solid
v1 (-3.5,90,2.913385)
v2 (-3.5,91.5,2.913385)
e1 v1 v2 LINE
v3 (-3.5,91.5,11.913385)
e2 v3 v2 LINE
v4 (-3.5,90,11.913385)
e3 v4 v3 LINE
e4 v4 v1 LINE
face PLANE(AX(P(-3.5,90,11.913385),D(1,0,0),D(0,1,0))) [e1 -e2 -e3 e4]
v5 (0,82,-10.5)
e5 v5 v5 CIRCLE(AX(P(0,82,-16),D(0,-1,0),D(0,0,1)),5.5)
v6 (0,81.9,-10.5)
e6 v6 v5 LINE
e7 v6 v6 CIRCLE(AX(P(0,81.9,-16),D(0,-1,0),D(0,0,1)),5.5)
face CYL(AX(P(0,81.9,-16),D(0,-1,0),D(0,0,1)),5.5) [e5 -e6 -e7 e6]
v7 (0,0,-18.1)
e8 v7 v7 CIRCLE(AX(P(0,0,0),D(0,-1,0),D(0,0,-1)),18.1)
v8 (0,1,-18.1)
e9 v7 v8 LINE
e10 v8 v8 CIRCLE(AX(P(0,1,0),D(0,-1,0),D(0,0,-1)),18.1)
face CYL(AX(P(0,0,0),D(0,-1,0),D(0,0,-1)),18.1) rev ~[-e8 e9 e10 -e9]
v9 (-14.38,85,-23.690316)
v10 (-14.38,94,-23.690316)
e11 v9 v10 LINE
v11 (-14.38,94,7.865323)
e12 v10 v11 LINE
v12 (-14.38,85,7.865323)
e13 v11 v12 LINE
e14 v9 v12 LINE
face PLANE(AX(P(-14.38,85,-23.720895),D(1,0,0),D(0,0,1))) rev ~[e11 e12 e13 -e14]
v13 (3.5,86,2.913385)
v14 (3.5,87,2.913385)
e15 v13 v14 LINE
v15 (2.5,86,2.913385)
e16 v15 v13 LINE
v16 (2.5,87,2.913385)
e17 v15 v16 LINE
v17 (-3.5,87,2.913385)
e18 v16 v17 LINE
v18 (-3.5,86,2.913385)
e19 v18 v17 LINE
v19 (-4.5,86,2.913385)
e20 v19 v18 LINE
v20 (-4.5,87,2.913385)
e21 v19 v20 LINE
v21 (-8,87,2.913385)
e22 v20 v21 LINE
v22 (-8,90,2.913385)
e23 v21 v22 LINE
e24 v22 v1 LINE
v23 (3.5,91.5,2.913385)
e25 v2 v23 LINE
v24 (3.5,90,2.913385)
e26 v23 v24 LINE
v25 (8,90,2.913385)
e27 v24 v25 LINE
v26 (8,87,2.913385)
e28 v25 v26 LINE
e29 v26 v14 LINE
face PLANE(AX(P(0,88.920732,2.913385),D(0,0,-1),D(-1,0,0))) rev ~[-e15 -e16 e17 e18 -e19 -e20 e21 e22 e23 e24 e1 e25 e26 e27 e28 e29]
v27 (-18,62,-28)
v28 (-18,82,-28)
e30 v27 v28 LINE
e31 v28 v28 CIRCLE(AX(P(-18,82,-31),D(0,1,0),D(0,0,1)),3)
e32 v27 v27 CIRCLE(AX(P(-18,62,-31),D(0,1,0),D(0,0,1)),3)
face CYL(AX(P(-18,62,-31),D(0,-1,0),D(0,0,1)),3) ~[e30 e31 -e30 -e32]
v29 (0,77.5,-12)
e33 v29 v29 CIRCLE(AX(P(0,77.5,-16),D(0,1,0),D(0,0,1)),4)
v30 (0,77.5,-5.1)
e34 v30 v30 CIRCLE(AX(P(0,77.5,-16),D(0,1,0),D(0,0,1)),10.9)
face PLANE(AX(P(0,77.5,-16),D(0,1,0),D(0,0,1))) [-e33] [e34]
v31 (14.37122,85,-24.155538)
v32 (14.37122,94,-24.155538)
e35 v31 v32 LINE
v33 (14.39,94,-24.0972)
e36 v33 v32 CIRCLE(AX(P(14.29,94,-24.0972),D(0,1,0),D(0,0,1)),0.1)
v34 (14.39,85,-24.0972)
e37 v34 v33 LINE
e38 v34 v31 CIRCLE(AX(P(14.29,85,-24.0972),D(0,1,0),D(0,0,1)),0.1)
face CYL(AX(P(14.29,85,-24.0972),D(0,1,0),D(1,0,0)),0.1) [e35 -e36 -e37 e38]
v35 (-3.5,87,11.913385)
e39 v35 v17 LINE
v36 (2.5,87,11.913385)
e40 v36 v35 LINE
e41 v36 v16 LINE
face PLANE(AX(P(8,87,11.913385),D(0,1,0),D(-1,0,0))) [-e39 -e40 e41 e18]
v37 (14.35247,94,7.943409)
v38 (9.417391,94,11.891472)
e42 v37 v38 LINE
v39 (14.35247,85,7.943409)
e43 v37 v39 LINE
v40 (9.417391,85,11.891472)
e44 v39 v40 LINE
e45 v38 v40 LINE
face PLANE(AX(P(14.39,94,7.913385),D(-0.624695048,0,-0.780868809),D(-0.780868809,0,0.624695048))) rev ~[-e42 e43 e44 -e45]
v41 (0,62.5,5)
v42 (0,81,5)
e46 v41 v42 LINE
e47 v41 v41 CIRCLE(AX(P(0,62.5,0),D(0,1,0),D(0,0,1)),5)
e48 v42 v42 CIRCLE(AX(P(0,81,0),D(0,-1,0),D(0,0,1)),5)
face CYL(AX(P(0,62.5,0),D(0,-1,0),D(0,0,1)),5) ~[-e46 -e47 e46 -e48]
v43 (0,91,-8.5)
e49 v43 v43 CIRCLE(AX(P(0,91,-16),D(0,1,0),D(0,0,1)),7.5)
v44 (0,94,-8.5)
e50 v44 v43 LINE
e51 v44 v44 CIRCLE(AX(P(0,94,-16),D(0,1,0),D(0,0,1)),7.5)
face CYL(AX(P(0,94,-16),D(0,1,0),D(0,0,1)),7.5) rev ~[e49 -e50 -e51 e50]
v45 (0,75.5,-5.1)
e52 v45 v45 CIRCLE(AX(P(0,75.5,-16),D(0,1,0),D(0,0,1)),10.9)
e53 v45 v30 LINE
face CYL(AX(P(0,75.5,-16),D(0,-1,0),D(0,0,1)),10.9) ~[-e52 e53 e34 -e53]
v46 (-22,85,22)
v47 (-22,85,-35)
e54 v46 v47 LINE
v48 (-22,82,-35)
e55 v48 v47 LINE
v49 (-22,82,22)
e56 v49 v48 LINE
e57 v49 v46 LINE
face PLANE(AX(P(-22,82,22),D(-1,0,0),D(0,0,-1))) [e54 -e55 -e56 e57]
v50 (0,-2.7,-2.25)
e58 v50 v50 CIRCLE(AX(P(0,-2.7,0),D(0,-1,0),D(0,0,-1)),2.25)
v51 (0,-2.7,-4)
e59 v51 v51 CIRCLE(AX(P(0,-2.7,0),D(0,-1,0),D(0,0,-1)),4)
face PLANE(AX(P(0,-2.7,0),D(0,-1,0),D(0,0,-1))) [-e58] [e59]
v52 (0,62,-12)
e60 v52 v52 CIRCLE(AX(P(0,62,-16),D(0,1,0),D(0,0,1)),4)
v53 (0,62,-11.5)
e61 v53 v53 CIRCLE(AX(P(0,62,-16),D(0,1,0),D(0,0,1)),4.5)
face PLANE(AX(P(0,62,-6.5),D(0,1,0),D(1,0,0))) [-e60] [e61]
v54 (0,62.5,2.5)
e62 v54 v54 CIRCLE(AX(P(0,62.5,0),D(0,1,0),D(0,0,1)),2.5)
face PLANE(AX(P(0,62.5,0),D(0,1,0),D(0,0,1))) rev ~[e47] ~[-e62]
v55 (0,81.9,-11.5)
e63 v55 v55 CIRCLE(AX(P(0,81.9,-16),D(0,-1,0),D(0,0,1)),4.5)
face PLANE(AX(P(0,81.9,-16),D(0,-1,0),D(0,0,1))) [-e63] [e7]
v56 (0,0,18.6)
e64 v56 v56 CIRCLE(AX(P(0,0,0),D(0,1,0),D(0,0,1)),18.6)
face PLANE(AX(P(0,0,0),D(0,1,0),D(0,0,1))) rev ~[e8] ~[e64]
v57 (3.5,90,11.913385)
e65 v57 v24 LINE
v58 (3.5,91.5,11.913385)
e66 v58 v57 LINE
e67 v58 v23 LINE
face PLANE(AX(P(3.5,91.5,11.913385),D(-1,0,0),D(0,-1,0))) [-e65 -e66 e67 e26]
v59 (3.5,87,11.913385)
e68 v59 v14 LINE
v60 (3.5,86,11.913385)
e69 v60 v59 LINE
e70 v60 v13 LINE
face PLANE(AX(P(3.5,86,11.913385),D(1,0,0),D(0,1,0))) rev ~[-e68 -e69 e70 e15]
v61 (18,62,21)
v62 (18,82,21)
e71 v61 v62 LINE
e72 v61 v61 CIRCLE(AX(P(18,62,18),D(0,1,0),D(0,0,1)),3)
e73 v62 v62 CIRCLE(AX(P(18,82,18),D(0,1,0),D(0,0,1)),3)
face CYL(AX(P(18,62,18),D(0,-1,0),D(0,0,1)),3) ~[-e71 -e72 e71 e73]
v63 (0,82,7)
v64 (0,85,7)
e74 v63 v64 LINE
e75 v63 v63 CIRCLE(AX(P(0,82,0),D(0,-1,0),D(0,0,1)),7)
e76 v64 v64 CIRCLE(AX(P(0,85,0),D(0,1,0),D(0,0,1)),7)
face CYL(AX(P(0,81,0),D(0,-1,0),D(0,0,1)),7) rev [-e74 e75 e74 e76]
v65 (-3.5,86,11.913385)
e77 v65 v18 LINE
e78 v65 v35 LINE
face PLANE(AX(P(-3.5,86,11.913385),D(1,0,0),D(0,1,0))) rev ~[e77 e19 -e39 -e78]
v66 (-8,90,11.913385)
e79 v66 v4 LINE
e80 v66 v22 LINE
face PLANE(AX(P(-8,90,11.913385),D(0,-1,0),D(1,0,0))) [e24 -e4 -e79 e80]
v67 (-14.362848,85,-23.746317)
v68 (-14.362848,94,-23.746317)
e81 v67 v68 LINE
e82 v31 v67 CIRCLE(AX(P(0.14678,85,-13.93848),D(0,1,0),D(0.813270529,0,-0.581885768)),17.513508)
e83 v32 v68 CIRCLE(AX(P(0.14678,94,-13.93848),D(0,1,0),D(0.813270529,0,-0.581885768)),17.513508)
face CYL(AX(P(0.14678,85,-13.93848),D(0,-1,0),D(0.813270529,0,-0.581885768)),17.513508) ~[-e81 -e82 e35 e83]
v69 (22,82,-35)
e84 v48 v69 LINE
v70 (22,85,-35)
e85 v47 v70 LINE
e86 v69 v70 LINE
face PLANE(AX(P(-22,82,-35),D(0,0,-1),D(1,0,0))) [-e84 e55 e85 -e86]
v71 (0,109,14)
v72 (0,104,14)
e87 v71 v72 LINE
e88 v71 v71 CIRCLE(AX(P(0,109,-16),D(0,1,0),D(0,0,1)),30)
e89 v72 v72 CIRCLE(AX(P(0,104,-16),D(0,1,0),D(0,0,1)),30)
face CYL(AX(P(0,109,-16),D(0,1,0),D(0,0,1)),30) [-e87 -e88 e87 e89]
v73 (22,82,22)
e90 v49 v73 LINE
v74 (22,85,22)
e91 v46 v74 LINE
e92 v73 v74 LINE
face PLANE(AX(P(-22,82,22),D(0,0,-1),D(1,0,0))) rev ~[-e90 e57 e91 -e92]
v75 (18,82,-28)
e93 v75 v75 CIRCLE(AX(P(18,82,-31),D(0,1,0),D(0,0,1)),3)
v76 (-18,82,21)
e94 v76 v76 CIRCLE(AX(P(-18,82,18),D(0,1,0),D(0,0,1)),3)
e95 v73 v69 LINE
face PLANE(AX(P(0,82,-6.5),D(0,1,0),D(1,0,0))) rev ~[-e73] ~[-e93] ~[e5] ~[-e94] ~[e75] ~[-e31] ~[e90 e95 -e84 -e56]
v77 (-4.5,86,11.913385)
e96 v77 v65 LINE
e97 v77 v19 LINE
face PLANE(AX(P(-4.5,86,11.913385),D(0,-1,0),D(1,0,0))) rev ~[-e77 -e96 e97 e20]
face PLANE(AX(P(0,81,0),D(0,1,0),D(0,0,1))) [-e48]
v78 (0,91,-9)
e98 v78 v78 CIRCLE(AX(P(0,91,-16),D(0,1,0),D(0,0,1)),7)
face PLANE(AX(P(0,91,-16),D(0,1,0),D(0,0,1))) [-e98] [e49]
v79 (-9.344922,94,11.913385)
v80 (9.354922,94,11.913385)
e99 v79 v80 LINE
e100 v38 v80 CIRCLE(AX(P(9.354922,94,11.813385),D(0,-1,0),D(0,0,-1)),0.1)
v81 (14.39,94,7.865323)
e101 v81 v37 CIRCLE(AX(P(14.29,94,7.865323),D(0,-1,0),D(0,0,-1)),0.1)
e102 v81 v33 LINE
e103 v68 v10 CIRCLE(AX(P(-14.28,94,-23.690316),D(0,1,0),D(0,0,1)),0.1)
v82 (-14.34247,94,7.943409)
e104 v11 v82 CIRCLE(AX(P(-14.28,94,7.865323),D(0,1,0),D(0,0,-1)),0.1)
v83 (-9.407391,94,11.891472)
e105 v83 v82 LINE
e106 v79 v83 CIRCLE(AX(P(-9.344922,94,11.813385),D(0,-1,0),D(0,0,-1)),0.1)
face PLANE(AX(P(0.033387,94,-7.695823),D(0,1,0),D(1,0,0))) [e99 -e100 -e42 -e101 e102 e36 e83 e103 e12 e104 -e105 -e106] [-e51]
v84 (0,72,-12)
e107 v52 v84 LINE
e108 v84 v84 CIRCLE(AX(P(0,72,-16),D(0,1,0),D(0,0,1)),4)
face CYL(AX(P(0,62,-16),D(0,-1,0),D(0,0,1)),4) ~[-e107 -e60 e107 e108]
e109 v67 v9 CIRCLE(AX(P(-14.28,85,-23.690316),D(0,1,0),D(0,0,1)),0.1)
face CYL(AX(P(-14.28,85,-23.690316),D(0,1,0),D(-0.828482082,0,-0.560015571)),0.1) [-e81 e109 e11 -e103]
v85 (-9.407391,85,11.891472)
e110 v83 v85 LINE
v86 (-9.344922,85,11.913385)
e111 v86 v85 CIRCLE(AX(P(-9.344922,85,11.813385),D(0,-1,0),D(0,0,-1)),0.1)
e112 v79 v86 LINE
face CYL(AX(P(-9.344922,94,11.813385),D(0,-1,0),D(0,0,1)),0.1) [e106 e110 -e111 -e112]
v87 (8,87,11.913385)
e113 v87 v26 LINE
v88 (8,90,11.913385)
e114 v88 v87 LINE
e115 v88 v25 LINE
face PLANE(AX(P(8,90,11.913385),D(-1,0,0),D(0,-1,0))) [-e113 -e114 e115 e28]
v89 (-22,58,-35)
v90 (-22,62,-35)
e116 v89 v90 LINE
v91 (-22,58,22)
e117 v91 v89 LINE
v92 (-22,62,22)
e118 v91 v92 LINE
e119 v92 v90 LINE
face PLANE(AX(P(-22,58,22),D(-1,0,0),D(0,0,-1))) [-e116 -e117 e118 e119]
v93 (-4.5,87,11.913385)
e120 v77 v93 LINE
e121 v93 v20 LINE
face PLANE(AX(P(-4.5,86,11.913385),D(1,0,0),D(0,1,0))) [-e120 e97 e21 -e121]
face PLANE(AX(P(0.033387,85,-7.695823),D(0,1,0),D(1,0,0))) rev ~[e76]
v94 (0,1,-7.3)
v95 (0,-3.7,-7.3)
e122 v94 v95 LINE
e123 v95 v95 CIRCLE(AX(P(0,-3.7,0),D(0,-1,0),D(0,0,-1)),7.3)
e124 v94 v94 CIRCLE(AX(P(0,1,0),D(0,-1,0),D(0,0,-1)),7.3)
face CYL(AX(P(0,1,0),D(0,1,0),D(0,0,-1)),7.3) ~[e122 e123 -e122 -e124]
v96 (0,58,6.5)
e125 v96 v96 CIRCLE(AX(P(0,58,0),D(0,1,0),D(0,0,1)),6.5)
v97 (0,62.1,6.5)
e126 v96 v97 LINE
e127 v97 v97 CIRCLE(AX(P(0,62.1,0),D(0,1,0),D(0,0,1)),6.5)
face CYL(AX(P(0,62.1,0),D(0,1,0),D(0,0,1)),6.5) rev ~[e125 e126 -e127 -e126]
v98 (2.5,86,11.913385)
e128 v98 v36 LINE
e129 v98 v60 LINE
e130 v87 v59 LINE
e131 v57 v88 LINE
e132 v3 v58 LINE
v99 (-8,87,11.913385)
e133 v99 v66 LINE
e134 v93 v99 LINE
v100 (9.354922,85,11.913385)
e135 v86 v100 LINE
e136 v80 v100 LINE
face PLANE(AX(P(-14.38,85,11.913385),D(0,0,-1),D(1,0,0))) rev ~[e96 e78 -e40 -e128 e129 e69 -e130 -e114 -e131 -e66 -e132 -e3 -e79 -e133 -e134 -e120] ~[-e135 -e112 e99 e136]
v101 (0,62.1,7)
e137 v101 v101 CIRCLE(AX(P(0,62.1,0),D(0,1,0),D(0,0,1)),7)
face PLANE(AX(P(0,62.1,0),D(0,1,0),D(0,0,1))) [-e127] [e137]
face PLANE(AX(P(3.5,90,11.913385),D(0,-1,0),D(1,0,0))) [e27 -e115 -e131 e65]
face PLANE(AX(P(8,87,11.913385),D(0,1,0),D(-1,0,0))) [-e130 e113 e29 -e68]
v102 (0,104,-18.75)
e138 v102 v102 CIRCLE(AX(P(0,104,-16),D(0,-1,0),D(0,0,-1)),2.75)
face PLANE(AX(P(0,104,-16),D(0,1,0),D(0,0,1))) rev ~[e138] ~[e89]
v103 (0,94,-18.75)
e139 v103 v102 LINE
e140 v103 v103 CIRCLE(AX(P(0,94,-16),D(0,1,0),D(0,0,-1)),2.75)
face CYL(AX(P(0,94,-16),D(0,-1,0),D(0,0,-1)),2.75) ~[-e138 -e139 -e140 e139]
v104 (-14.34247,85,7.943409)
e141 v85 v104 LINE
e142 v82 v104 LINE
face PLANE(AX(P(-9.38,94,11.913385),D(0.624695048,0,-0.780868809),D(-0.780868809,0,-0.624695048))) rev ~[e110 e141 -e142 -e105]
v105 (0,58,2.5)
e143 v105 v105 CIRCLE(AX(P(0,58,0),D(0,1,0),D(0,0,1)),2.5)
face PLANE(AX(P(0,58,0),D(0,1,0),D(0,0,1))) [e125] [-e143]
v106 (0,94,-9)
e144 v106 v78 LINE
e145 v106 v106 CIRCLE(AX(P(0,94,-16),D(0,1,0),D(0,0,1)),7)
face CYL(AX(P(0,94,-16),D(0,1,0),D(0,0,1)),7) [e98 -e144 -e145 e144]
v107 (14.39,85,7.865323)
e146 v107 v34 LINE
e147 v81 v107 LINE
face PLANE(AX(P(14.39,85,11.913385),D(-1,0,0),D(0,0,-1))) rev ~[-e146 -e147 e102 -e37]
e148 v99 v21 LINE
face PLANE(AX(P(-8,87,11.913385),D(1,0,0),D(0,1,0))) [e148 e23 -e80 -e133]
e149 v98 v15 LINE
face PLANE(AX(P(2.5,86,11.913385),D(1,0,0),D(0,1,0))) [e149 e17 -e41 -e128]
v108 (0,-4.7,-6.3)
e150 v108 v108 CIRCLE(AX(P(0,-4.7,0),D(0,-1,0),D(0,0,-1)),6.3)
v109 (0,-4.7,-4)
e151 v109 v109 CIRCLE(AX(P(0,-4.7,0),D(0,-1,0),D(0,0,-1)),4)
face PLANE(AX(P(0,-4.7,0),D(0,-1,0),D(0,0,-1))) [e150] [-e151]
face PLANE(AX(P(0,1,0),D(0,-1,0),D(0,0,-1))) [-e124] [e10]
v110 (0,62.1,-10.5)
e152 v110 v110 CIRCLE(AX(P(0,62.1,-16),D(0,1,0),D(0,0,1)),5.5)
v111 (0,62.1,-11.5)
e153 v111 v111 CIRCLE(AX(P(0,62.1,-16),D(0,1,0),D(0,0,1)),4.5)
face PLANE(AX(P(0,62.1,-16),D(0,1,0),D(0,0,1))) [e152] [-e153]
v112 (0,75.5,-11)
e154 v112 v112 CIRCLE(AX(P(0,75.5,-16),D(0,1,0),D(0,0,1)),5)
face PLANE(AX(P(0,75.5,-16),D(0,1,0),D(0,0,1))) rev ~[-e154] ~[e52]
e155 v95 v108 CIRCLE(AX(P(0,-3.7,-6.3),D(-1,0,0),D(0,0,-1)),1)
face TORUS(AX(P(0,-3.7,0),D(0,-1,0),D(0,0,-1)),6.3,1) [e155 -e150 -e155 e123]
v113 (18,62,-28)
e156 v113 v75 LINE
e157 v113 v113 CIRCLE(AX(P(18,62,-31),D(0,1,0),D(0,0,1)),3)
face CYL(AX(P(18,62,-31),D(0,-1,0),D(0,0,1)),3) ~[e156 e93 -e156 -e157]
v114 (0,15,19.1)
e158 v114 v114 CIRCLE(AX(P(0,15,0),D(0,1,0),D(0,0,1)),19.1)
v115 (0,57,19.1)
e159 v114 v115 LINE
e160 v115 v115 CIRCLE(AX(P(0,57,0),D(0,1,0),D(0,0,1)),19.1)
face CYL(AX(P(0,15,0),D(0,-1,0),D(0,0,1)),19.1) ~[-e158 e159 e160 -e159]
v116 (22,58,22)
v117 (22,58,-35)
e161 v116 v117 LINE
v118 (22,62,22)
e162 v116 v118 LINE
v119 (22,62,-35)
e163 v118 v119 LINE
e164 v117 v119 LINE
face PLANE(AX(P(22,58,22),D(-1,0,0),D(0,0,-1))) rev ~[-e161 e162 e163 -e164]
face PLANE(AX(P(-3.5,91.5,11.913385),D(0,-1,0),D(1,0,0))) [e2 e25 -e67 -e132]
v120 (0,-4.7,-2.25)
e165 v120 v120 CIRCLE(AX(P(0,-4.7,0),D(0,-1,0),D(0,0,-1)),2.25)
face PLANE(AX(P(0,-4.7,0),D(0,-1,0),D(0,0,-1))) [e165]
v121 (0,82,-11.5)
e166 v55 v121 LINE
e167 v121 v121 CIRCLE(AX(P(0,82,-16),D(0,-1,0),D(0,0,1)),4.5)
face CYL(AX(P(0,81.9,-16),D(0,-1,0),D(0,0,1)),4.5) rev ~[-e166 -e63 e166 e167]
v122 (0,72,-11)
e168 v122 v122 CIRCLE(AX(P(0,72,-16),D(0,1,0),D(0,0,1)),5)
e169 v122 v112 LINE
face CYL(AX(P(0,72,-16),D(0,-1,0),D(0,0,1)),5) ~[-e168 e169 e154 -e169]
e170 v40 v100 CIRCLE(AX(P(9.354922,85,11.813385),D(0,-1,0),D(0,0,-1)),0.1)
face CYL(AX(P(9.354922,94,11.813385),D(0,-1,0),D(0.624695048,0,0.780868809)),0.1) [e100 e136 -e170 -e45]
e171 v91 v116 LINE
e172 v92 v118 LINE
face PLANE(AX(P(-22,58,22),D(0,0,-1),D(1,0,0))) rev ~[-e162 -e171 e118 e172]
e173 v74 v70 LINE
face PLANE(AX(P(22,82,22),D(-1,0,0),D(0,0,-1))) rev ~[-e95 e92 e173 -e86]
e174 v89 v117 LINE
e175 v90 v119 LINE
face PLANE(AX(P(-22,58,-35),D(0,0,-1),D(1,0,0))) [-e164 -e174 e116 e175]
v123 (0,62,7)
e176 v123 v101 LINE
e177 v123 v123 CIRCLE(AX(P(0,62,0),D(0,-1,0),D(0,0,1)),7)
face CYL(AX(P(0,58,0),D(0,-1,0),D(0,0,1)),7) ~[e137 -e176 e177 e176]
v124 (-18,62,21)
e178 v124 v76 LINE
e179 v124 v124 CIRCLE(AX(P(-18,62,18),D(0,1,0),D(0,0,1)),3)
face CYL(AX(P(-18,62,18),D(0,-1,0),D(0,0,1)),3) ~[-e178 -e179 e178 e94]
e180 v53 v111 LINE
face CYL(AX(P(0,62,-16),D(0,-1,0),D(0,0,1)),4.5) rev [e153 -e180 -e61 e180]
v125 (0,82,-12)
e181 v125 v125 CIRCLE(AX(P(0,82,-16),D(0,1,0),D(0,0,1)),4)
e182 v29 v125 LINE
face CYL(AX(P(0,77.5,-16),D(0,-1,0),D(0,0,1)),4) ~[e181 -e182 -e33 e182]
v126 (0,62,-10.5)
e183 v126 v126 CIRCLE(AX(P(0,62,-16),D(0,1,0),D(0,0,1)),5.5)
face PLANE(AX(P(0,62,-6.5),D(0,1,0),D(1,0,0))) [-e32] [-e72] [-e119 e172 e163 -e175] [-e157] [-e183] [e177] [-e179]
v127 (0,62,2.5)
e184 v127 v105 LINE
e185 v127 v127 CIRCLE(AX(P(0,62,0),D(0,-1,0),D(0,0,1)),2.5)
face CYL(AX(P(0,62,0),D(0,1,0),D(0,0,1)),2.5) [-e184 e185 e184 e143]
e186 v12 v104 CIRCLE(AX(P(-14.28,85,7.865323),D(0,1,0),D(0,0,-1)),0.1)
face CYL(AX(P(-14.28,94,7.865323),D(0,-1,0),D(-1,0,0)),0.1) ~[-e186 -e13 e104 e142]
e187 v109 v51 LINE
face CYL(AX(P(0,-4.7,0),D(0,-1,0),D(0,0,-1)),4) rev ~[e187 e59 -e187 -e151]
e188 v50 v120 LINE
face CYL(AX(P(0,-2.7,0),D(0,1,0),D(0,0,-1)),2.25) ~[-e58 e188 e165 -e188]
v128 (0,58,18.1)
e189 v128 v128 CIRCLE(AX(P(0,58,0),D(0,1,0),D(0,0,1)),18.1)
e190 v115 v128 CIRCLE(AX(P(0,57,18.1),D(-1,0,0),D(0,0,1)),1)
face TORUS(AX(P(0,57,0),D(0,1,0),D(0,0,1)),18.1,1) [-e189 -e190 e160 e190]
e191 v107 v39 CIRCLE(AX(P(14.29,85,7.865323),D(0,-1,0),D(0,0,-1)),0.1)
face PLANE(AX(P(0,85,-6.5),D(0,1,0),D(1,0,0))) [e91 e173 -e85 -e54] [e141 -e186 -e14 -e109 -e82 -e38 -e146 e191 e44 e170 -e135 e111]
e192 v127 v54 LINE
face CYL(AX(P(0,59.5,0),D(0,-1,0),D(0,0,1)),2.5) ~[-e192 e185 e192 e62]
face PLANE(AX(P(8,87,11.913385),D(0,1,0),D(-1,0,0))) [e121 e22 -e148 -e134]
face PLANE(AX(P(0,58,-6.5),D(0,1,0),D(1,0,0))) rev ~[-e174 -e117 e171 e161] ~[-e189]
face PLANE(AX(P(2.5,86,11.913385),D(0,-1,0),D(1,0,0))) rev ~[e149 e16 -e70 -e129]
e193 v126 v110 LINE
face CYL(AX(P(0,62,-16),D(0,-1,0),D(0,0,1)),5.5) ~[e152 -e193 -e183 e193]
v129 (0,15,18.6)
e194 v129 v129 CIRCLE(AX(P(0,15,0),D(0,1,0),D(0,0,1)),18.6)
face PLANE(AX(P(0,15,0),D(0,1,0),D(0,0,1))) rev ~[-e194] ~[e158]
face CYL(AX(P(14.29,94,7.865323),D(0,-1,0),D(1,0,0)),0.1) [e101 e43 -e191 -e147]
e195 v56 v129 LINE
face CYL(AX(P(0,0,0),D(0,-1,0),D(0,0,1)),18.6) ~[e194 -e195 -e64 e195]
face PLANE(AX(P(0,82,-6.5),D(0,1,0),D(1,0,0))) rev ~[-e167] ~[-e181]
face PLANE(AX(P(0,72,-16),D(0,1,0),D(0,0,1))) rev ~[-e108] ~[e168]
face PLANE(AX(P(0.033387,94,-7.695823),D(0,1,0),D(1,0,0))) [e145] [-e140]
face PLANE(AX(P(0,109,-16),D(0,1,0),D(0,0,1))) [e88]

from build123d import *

# Parameters (mm, degrees)
SKETCH_1_R           = 18.6
EXTRUDE_1_DEPTH      = 15
SKETCH_2_R           = 19.1
EXTRUDE_2_DEPTH      = 43
FILLET_4_R           = 1
SKETCH_3_R           = 18.1
CUT_EXTRUDE_1_DEPTH  = 1
SKETCH_4_R           = 7.3
EXTRUDE_3_DEPTH      = 5.7
FILLET_5_R           = 1
SKETCH_5_R           = 4
CUT_EXTRUDE_2_DEPTH  = 2
SKETCH_6_R           = 2.25
EXTRUDE_4_DEPTH      = 2
SKETCH_7_R           = 7
EXTRUDE_5_DEPTH      = 4.1
SKETCH_8_R           = 6.5
CUT_EXTRUDE_3_DEPTH  = 2.6
SKETCH_9_R           = 2.5
EXTRUDE_6_DEPTH      = 3
SKETCH_10_R          = 5
EXTRUDE_7_DEPTH      = 19
SKETCH_12_W          = 44
SKETCH_12_H          = 57
EXTRUDE_8_DEPTH      = 4
SKETCH_13_R          = 3
EXTRUDE_9_DEPTH      = 20
SKETCH_14_R          = 3
EXTRUDE_10_DEPTH     = 20
SKETCH_15_R          = 3
EXTRUDE_11_DEPTH     = 20
SKETCH_16_R          = 3
EXTRUDE_12_DEPTH     = 20
SKETCH_17_W          = 44
SKETCH_17_H          = 57
EXTRUDE_13_DEPTH     = 3
SKETCH_21_R          = 6.5
SKETCH_21_R_2        = 2.5
CUT_EXTRUDE_5_DEPTH  = 4
CUT_EXTRUDE_START    = -4
SKETCH_22_R          = 7
CUT_EXTRUDE_6_DEPTH  = 4
SKETCH_23_R          = 5.5
SKETCH_23_R_2        = 4.5
EXTRUDE_14_DEPTH     = 0.1
SKETCH_24_R          = 4
EXTRUDE_15_DEPTH     = 10
SKETCH_25_R          = 5
EXTRUDE_16_DEPTH     = 3.5
SKETCH_28_R          = 10.9
EXTRUDE_22_DEPTH     = 2
SKETCH_29_R          = 4
EXTRUDE_23_DEPTH     = 4.5
EXTRUDE_START        = 0.1
SKETCH_31_R          = 5.5
SKETCH_31_R_2        = 4.5
EXTRUDE_25_DEPTH     = 0.1
EXTRUDE_26_DEPTH     = 9
CUT_EXTRUDE_7_DEPTH  = 9
CUT_EXTRUDE_8_DEPTH  = 9
SKETCH_39_R          = 2.75
EXTRUDE_27_DEPTH     = 15
CUT_EXTRUDE_9_DEPTH  = 9
SKETCH_41_W          = 1
SKETCH_41_H          = 1
CUT_EXTRUDE_10_DEPTH = 9
SKETCH_42_W          = 1
SKETCH_42_H          = 1
CUT_EXTRUDE_11_DEPTH = 9
FILLET_6_R           = 0.01
FILLET_7_R           = 0.1
SKETCH_43_R          = 7.5
SKETCH_43_R_2        = 7
CUT_EXTRUDE_12_DEPTH = 3
SKETCH_44_R          = 30
EXTRUDE_28_DEPTH     = 5


with BuildPart() as part:
    # ｽｹｯﾁ1 → ﾎﾞｽ - 押し出し1 (new body)
    with BuildSketch(Plane(origin=(0, 0, 0), x_dir=(1, 0, 0), z_dir=(0, 1, 0))):
        with Locations(Location((0, 0, 0), (0, 0, 270))):
            Circle(SKETCH_1_R)
    extrude(amount=EXTRUDE_1_DEPTH)

    # ｽｹｯﾁ2 → ﾎﾞｽ - 押し出し2 (add)
    with BuildSketch(Plane(origin=(0, 15, 0), x_dir=(1, 0, 0), z_dir=(0, 1, 0))):
        with Locations(Location((0, 0, 0), (0, 0, 270))):
            Circle(SKETCH_2_R)
    extrude(amount=EXTRUDE_2_DEPTH)

    # ﾌｨﾚｯﾄ4
    fillet_4_edges = [part.edges().sort_by_distance(p)[0] for p in [
        (0, 58, -19.1),
    ]]
    fillet(fillet_4_edges, radius=FILLET_4_R)

    # ｽｹｯﾁ3 → ｶｯﾄ - 押し出し1 (cut)
    with BuildSketch(Plane.XZ):
        with Locations(Location((0, 0, 0), (0, 0, 270))):
            Circle(SKETCH_3_R)
    extrude(amount=-CUT_EXTRUDE_1_DEPTH, mode=Mode.SUBTRACT)

    # ｽｹｯﾁ4 → ﾎﾞｽ - 押し出し3 (add)
    with BuildSketch(Plane.XZ.offset(-1)):
        with Locations(Location((0, 0, 0), (0, 0, 270))):
            Circle(SKETCH_4_R)
    extrude(amount=EXTRUDE_3_DEPTH)

    # ﾌｨﾚｯﾄ5
    fillet_5_edges = [part.edges().sort_by_distance(p)[0] for p in [
        (0, -4.7, 7.3),
    ]]
    fillet(fillet_5_edges, radius=FILLET_5_R)

    # ｽｹｯﾁ5 → ｶｯﾄ - 押し出し2 (cut)
    with BuildSketch(Plane.XZ.offset(4.7)):
        with Locations(Location((0, 0, 0), (0, 0, 270))):
            Circle(SKETCH_5_R)
    extrude(amount=-CUT_EXTRUDE_2_DEPTH, mode=Mode.SUBTRACT)

    # ｽｹｯﾁ6 → ﾎﾞｽ - 押し出し4 (add)
    with BuildSketch(Plane.XZ.offset(2.7)):
        with Locations(Location((0, 0, 0), (0, 0, 270))):
            Circle(SKETCH_6_R)
    extrude(amount=EXTRUDE_4_DEPTH)

    # ｽｹｯﾁ7 → ﾎﾞｽ - 押し出し5 (add)
    with BuildSketch(Plane(origin=(0, 58, 0), x_dir=(1, 0, 0), z_dir=(0, 1, 0))):
        with Locations(Location((0, 0, 0), (0, 0, 270))):
            Circle(SKETCH_7_R)
    extrude(amount=EXTRUDE_5_DEPTH)

    # ｽｹｯﾁ8 → ｶｯﾄ - 押し出し3 (cut)
    with BuildSketch(Plane(origin=(0, 62.1, 0), x_dir=(1, 0, 0), z_dir=(0, 1, 0))):
        with Locations(Location((0, 0, 0), (0, 0, 270))):
            Circle(SKETCH_8_R)
    extrude(amount=-CUT_EXTRUDE_3_DEPTH, mode=Mode.SUBTRACT)

    # ｽｹｯﾁ9 → ﾎﾞｽ - 押し出し6 (add)
    with BuildSketch(Plane(origin=(0, 59.5, 0), x_dir=(1, 0, 0), z_dir=(0, 1, 0))):
        with Locations(Location((0, 0, 0), (0, 0, 270))):
            Circle(SKETCH_9_R)
    extrude(amount=EXTRUDE_6_DEPTH)

    # ｽｹｯﾁ10 → ﾎﾞｽ - 押し出し7 (add)
    with BuildSketch(Plane(origin=(0, 62.5, 0), x_dir=(1, 0, 0), z_dir=(0, 1, 0))):
        with Locations(Location((0, 0, 0), (0, 0, 270))):
            Circle(SKETCH_10_R)
    extrude(amount=EXTRUDE_7_DEPTH)

    # ｽｹｯﾁ12 → ﾎﾞｽ - 押し出し8 (add)
    with BuildSketch(Plane(origin=(0, 58, 0), x_dir=(1, 0, 0), z_dir=(0, 1, 0))):
        with Locations((0, 6.5)):
            Rectangle(SKETCH_12_W, SKETCH_12_H)
    extrude(amount=EXTRUDE_8_DEPTH)

    # ｽｹｯﾁ13 → ﾎﾞｽ - 押し出し9 (add)
    with BuildSketch(Plane(origin=(0, 62, 0), x_dir=(1, 0, 0), z_dir=(0, 1, 0))):
        with Locations(Location((-18, 31, 0), (0, 0, 270))):
            Circle(SKETCH_13_R)
    extrude(amount=EXTRUDE_9_DEPTH)

    # ｽｹｯﾁ14 → ﾎﾞｽ - 押し出し10 (add)
    with BuildSketch(Plane(origin=(0, 62, 0), x_dir=(1, 0, 0), z_dir=(0, 1, 0))):
        with Locations(Location((-18, -18, 0), (0, 0, 270))):
            Circle(SKETCH_14_R)
    extrude(amount=EXTRUDE_10_DEPTH)

    # ｽｹｯﾁ15 → ﾎﾞｽ - 押し出し11 (add)
    with BuildSketch(Plane(origin=(0, 62, 0), x_dir=(1, 0, 0), z_dir=(0, 1, 0))):
        with Locations(Location((18, 31, 0), (0, 0, 270))):
            Circle(SKETCH_15_R)
    extrude(amount=EXTRUDE_11_DEPTH)

    # ｽｹｯﾁ16 → ﾎﾞｽ - 押し出し12 (add)
    with BuildSketch(Plane(origin=(0, 62, 0), x_dir=(1, 0, 0), z_dir=(0, 1, 0))):
        with Locations(Location((18, -18, 0), (0, 0, 270))):
            Circle(SKETCH_16_R)
    extrude(amount=EXTRUDE_12_DEPTH)

    # ｽｹｯﾁ17 → ﾎﾞｽ - 押し出し13 (add)
    with BuildSketch(Plane(origin=(0, 82, 0), x_dir=(1, 0, 0), z_dir=(0, 1, 0))):
        with Locations((0, 6.5)):
            Rectangle(SKETCH_17_W, SKETCH_17_H)
    extrude(amount=EXTRUDE_13_DEPTH)

    # ｽｹｯﾁ21 → ｶｯﾄ - 押し出し5 (cut)
    with BuildSketch(Plane(origin=(0, 62, 0), x_dir=(1, 0, 0), z_dir=(0, 1, 0))):
        with Locations(Location((0, 0, 0), (0, 0, 270))):
            Circle(SKETCH_21_R)
        with Locations(Location((0, 0, 0), (0, 0, 270))):
            Circle(SKETCH_21_R_2, mode=Mode.SUBTRACT)
    extrude(amount=-CUT_EXTRUDE_5_DEPTH, mode=Mode.SUBTRACT)

    # ｽｹｯﾁ22 → ｶｯﾄ - 押し出し6 (cut)
    with BuildSketch(Plane(origin=(0, 85, 0), x_dir=(1, 0, 0), z_dir=(0, 1, 0)).offset(CUT_EXTRUDE_START)):
        with Locations(Location((0, 0, 0), (0, 0, 270))):
            Circle(SKETCH_22_R)
    extrude(amount=CUT_EXTRUDE_6_DEPTH, mode=Mode.SUBTRACT)

    # ｽｹｯﾁ23 → ﾎﾞｽ - 押し出し14 (add)
    with BuildSketch(Plane(origin=(0, 62, 0), x_dir=(1, 0, 0), z_dir=(0, 1, 0))):
        with Locations(Location((0, 16, 0), (0, 0, 270))):
            Circle(SKETCH_23_R)
        with Locations(Location((0, 16, 0), (0, 0, 270))):
            Circle(SKETCH_23_R_2, mode=Mode.SUBTRACT)
    extrude(amount=EXTRUDE_14_DEPTH)

    # ｽｹｯﾁ24 → ﾎﾞｽ - 押し出し15 (add)
    with BuildSketch(Plane(origin=(0, 62, 0), x_dir=(1, 0, 0), z_dir=(0, 1, 0))):
        with Locations(Location((0, 16, 0), (0, 0, 270))):
            Circle(SKETCH_24_R)
    extrude(amount=EXTRUDE_15_DEPTH)

    # ｽｹｯﾁ25 → ﾎﾞｽ - 押し出し16 (add)
    with BuildSketch(Plane(origin=(0, 72, 0), x_dir=(1, 0, 0), z_dir=(0, 1, 0))):
        with Locations(Location((0, 16, 0), (0, 0, 270))):
            Circle(SKETCH_25_R)
    extrude(amount=EXTRUDE_16_DEPTH)

    # ｽｹｯﾁ28 → ﾎﾞｽ - 押し出し22 (add)
    with BuildSketch(Plane(origin=(0, 75.5, 0), x_dir=(1, 0, 0), z_dir=(0, 1, 0))):
        with Locations(Location((0, 16, 0), (0, 0, 270))):
            Circle(SKETCH_28_R)
    extrude(amount=EXTRUDE_22_DEPTH)

    # ｽｹｯﾁ29 → ﾎﾞｽ - 押し出し23 (add)
    with BuildSketch(Plane(origin=(0, 77.5, 0), x_dir=(1, 0, 0), z_dir=(0, 1, 0))):
        with Locations(Location((0, 16, 0), (0, 0, 270))):
            Circle(SKETCH_29_R)
    extrude(amount=EXTRUDE_23_DEPTH)

    # ｽｹｯﾁ31 → ﾎﾞｽ - 押し出し25 (add)
    with BuildSketch(Plane.XZ.offset(-82).offset(EXTRUDE_START)):
        with Locations(Location((0, -16, 0), (0, 0, 90))):
            Circle(SKETCH_31_R)
        with Locations(Location((0, -16, 0), (0, 0, 90))):
            Circle(SKETCH_31_R_2, mode=Mode.SUBTRACT)
    extrude(amount=-EXTRUDE_25_DEPTH)

    # ｽｹｯﾁ32 → ﾎﾞｽ - 押し出し26 (add)
    with BuildSketch(Plane(origin=(0, 85, 0), x_dir=(1, 0, 0), z_dir=(0, 1, 0))):
        with BuildLine():
            Line((-14.38, 23.72089526), (-14.38, 14.139608929))
            Line((-14.38, 14.139608929), (-14.38, -11.913385086))
            Line((-14.38, -11.913385086), (14.39, -11.913385086))
            Line((14.39, -11.913385086), (14.39, 14.139608929))
            Line((14.39, 14.139608929), (14.39, 24.129341302))
            ThreePointArc((14.39, 24.129341302), (-0.101833491, 31.450223746), (-14.38, 23.72089526))
        make_face()
    extrude(amount=EXTRUDE_26_DEPTH)

    # ｽｹｯﾁ35 → ｶｯﾄ - 押し出し7 (cut)
    with BuildSketch(Plane(origin=(0, 94, 0), x_dir=(1, 0, 0), z_dir=(0, 1, 0))):
        Polygon((14.39, -11.913385086), (14.39, -7.913385086), (9.39, -11.913385086), align=None)
    extrude(amount=-CUT_EXTRUDE_7_DEPTH, mode=Mode.SUBTRACT)

    # ｽｹｯﾁ37 → ｶｯﾄ - 押し出し8 (cut)
    with BuildSketch(Plane(origin=(0, 94, 0), x_dir=(1, 0, 0), z_dir=(0, 1, 0))):
        Polygon((-14.38, -11.913385086), (-9.38, -11.913385086), (-14.38, -7.913385086), align=None)
    extrude(amount=-CUT_EXTRUDE_8_DEPTH, mode=Mode.SUBTRACT)

    # ｽｹｯﾁ39 → ﾎﾞｽ - 押し出し27 (add)
    with BuildSketch(Plane(origin=(0, 94, 0), x_dir=(1, 0, 0), z_dir=(0, 1, 0))):
        with Locations(Location((0, 16, 0), (0, 0, 90))):
            Circle(SKETCH_39_R)
    extrude(amount=EXTRUDE_27_DEPTH)

    # ｽｹｯﾁ40 → ｶｯﾄ - 押し出し9 (cut)
    with BuildSketch(Plane.XY.offset(11.913385086)):
        Polygon((-8, 90), (-3.5, 90), (-3.5, 91.5), (3.5, 91.5), (3.5, 90), (8, 90), (8, 87), (-8, 87), align=None)
    extrude(amount=-CUT_EXTRUDE_9_DEPTH, mode=Mode.SUBTRACT)

    # ｽｹｯﾁ41 → ｶｯﾄ - 押し出し10 (cut)
    with BuildSketch(Plane.XY.offset(11.913385086)):
        with Locations((3, 86.5)):
            Rectangle(SKETCH_41_W, SKETCH_41_H)
    extrude(amount=-CUT_EXTRUDE_10_DEPTH, mode=Mode.SUBTRACT)

    # ｽｹｯﾁ42 → ｶｯﾄ - 押し出し11 (cut)
    with BuildSketch(Plane.XY.offset(11.913385086)):
        with Locations((-4, 86.5)):
            Rectangle(SKETCH_42_W, SKETCH_42_H)
    extrude(amount=-CUT_EXTRUDE_11_DEPTH, mode=Mode.SUBTRACT)

    # ﾌｨﾚｯﾄ6
    fillet_6_edges = [part.edges().sort_by_distance(p)[0] for p in [
        (0, 109, -13.25),
    ]]
    fillet(fillet_6_edges, radius=FILLET_6_R)

    # ﾌｨﾚｯﾄ7
    fillet_7_edges = [part.edges().sort_by_distance(p)[0] for p in [
        (14.39, 89.5, -24.129341302),
        (-14.38, 89.5, -23.72089526),
        (14.39, 89.5, 7.913385086),
        (9.39, 89.5, 11.913385086),
        (-14.38, 89.5, 7.913385086),
        (-9.38, 89.5, 11.913385086),
    ]]
    fillet(fillet_7_edges, radius=FILLET_7_R)

    # ｽｹｯﾁ43 → ｶｯﾄ - 押し出し12 (cut)
    with BuildSketch(Plane(origin=(0, 94, 0), x_dir=(1, 0, 0), z_dir=(0, 1, 0))):
        with Locations(Location((0, 16, 0), (0, 0, 270))):
            Circle(SKETCH_43_R)
        with Locations(Location((0, 16, 0), (0, 0, 270))):
            Circle(SKETCH_43_R_2, mode=Mode.SUBTRACT)
    extrude(amount=-CUT_EXTRUDE_12_DEPTH, mode=Mode.SUBTRACT)

    # ｽｹｯﾁ44 → ﾎﾞｽ - 押し出し28 (add)
    with BuildSketch(Plane(origin=(0, 109, 0), x_dir=(1, 0, 0), z_dir=(0, 1, 0))):
        with Locations(Location((0, 16, 0), (0, 0, 270))):
            Circle(SKETCH_44_R)
    extrude(amount=-EXTRUDE_28_DEPTH)


solid = part.part
